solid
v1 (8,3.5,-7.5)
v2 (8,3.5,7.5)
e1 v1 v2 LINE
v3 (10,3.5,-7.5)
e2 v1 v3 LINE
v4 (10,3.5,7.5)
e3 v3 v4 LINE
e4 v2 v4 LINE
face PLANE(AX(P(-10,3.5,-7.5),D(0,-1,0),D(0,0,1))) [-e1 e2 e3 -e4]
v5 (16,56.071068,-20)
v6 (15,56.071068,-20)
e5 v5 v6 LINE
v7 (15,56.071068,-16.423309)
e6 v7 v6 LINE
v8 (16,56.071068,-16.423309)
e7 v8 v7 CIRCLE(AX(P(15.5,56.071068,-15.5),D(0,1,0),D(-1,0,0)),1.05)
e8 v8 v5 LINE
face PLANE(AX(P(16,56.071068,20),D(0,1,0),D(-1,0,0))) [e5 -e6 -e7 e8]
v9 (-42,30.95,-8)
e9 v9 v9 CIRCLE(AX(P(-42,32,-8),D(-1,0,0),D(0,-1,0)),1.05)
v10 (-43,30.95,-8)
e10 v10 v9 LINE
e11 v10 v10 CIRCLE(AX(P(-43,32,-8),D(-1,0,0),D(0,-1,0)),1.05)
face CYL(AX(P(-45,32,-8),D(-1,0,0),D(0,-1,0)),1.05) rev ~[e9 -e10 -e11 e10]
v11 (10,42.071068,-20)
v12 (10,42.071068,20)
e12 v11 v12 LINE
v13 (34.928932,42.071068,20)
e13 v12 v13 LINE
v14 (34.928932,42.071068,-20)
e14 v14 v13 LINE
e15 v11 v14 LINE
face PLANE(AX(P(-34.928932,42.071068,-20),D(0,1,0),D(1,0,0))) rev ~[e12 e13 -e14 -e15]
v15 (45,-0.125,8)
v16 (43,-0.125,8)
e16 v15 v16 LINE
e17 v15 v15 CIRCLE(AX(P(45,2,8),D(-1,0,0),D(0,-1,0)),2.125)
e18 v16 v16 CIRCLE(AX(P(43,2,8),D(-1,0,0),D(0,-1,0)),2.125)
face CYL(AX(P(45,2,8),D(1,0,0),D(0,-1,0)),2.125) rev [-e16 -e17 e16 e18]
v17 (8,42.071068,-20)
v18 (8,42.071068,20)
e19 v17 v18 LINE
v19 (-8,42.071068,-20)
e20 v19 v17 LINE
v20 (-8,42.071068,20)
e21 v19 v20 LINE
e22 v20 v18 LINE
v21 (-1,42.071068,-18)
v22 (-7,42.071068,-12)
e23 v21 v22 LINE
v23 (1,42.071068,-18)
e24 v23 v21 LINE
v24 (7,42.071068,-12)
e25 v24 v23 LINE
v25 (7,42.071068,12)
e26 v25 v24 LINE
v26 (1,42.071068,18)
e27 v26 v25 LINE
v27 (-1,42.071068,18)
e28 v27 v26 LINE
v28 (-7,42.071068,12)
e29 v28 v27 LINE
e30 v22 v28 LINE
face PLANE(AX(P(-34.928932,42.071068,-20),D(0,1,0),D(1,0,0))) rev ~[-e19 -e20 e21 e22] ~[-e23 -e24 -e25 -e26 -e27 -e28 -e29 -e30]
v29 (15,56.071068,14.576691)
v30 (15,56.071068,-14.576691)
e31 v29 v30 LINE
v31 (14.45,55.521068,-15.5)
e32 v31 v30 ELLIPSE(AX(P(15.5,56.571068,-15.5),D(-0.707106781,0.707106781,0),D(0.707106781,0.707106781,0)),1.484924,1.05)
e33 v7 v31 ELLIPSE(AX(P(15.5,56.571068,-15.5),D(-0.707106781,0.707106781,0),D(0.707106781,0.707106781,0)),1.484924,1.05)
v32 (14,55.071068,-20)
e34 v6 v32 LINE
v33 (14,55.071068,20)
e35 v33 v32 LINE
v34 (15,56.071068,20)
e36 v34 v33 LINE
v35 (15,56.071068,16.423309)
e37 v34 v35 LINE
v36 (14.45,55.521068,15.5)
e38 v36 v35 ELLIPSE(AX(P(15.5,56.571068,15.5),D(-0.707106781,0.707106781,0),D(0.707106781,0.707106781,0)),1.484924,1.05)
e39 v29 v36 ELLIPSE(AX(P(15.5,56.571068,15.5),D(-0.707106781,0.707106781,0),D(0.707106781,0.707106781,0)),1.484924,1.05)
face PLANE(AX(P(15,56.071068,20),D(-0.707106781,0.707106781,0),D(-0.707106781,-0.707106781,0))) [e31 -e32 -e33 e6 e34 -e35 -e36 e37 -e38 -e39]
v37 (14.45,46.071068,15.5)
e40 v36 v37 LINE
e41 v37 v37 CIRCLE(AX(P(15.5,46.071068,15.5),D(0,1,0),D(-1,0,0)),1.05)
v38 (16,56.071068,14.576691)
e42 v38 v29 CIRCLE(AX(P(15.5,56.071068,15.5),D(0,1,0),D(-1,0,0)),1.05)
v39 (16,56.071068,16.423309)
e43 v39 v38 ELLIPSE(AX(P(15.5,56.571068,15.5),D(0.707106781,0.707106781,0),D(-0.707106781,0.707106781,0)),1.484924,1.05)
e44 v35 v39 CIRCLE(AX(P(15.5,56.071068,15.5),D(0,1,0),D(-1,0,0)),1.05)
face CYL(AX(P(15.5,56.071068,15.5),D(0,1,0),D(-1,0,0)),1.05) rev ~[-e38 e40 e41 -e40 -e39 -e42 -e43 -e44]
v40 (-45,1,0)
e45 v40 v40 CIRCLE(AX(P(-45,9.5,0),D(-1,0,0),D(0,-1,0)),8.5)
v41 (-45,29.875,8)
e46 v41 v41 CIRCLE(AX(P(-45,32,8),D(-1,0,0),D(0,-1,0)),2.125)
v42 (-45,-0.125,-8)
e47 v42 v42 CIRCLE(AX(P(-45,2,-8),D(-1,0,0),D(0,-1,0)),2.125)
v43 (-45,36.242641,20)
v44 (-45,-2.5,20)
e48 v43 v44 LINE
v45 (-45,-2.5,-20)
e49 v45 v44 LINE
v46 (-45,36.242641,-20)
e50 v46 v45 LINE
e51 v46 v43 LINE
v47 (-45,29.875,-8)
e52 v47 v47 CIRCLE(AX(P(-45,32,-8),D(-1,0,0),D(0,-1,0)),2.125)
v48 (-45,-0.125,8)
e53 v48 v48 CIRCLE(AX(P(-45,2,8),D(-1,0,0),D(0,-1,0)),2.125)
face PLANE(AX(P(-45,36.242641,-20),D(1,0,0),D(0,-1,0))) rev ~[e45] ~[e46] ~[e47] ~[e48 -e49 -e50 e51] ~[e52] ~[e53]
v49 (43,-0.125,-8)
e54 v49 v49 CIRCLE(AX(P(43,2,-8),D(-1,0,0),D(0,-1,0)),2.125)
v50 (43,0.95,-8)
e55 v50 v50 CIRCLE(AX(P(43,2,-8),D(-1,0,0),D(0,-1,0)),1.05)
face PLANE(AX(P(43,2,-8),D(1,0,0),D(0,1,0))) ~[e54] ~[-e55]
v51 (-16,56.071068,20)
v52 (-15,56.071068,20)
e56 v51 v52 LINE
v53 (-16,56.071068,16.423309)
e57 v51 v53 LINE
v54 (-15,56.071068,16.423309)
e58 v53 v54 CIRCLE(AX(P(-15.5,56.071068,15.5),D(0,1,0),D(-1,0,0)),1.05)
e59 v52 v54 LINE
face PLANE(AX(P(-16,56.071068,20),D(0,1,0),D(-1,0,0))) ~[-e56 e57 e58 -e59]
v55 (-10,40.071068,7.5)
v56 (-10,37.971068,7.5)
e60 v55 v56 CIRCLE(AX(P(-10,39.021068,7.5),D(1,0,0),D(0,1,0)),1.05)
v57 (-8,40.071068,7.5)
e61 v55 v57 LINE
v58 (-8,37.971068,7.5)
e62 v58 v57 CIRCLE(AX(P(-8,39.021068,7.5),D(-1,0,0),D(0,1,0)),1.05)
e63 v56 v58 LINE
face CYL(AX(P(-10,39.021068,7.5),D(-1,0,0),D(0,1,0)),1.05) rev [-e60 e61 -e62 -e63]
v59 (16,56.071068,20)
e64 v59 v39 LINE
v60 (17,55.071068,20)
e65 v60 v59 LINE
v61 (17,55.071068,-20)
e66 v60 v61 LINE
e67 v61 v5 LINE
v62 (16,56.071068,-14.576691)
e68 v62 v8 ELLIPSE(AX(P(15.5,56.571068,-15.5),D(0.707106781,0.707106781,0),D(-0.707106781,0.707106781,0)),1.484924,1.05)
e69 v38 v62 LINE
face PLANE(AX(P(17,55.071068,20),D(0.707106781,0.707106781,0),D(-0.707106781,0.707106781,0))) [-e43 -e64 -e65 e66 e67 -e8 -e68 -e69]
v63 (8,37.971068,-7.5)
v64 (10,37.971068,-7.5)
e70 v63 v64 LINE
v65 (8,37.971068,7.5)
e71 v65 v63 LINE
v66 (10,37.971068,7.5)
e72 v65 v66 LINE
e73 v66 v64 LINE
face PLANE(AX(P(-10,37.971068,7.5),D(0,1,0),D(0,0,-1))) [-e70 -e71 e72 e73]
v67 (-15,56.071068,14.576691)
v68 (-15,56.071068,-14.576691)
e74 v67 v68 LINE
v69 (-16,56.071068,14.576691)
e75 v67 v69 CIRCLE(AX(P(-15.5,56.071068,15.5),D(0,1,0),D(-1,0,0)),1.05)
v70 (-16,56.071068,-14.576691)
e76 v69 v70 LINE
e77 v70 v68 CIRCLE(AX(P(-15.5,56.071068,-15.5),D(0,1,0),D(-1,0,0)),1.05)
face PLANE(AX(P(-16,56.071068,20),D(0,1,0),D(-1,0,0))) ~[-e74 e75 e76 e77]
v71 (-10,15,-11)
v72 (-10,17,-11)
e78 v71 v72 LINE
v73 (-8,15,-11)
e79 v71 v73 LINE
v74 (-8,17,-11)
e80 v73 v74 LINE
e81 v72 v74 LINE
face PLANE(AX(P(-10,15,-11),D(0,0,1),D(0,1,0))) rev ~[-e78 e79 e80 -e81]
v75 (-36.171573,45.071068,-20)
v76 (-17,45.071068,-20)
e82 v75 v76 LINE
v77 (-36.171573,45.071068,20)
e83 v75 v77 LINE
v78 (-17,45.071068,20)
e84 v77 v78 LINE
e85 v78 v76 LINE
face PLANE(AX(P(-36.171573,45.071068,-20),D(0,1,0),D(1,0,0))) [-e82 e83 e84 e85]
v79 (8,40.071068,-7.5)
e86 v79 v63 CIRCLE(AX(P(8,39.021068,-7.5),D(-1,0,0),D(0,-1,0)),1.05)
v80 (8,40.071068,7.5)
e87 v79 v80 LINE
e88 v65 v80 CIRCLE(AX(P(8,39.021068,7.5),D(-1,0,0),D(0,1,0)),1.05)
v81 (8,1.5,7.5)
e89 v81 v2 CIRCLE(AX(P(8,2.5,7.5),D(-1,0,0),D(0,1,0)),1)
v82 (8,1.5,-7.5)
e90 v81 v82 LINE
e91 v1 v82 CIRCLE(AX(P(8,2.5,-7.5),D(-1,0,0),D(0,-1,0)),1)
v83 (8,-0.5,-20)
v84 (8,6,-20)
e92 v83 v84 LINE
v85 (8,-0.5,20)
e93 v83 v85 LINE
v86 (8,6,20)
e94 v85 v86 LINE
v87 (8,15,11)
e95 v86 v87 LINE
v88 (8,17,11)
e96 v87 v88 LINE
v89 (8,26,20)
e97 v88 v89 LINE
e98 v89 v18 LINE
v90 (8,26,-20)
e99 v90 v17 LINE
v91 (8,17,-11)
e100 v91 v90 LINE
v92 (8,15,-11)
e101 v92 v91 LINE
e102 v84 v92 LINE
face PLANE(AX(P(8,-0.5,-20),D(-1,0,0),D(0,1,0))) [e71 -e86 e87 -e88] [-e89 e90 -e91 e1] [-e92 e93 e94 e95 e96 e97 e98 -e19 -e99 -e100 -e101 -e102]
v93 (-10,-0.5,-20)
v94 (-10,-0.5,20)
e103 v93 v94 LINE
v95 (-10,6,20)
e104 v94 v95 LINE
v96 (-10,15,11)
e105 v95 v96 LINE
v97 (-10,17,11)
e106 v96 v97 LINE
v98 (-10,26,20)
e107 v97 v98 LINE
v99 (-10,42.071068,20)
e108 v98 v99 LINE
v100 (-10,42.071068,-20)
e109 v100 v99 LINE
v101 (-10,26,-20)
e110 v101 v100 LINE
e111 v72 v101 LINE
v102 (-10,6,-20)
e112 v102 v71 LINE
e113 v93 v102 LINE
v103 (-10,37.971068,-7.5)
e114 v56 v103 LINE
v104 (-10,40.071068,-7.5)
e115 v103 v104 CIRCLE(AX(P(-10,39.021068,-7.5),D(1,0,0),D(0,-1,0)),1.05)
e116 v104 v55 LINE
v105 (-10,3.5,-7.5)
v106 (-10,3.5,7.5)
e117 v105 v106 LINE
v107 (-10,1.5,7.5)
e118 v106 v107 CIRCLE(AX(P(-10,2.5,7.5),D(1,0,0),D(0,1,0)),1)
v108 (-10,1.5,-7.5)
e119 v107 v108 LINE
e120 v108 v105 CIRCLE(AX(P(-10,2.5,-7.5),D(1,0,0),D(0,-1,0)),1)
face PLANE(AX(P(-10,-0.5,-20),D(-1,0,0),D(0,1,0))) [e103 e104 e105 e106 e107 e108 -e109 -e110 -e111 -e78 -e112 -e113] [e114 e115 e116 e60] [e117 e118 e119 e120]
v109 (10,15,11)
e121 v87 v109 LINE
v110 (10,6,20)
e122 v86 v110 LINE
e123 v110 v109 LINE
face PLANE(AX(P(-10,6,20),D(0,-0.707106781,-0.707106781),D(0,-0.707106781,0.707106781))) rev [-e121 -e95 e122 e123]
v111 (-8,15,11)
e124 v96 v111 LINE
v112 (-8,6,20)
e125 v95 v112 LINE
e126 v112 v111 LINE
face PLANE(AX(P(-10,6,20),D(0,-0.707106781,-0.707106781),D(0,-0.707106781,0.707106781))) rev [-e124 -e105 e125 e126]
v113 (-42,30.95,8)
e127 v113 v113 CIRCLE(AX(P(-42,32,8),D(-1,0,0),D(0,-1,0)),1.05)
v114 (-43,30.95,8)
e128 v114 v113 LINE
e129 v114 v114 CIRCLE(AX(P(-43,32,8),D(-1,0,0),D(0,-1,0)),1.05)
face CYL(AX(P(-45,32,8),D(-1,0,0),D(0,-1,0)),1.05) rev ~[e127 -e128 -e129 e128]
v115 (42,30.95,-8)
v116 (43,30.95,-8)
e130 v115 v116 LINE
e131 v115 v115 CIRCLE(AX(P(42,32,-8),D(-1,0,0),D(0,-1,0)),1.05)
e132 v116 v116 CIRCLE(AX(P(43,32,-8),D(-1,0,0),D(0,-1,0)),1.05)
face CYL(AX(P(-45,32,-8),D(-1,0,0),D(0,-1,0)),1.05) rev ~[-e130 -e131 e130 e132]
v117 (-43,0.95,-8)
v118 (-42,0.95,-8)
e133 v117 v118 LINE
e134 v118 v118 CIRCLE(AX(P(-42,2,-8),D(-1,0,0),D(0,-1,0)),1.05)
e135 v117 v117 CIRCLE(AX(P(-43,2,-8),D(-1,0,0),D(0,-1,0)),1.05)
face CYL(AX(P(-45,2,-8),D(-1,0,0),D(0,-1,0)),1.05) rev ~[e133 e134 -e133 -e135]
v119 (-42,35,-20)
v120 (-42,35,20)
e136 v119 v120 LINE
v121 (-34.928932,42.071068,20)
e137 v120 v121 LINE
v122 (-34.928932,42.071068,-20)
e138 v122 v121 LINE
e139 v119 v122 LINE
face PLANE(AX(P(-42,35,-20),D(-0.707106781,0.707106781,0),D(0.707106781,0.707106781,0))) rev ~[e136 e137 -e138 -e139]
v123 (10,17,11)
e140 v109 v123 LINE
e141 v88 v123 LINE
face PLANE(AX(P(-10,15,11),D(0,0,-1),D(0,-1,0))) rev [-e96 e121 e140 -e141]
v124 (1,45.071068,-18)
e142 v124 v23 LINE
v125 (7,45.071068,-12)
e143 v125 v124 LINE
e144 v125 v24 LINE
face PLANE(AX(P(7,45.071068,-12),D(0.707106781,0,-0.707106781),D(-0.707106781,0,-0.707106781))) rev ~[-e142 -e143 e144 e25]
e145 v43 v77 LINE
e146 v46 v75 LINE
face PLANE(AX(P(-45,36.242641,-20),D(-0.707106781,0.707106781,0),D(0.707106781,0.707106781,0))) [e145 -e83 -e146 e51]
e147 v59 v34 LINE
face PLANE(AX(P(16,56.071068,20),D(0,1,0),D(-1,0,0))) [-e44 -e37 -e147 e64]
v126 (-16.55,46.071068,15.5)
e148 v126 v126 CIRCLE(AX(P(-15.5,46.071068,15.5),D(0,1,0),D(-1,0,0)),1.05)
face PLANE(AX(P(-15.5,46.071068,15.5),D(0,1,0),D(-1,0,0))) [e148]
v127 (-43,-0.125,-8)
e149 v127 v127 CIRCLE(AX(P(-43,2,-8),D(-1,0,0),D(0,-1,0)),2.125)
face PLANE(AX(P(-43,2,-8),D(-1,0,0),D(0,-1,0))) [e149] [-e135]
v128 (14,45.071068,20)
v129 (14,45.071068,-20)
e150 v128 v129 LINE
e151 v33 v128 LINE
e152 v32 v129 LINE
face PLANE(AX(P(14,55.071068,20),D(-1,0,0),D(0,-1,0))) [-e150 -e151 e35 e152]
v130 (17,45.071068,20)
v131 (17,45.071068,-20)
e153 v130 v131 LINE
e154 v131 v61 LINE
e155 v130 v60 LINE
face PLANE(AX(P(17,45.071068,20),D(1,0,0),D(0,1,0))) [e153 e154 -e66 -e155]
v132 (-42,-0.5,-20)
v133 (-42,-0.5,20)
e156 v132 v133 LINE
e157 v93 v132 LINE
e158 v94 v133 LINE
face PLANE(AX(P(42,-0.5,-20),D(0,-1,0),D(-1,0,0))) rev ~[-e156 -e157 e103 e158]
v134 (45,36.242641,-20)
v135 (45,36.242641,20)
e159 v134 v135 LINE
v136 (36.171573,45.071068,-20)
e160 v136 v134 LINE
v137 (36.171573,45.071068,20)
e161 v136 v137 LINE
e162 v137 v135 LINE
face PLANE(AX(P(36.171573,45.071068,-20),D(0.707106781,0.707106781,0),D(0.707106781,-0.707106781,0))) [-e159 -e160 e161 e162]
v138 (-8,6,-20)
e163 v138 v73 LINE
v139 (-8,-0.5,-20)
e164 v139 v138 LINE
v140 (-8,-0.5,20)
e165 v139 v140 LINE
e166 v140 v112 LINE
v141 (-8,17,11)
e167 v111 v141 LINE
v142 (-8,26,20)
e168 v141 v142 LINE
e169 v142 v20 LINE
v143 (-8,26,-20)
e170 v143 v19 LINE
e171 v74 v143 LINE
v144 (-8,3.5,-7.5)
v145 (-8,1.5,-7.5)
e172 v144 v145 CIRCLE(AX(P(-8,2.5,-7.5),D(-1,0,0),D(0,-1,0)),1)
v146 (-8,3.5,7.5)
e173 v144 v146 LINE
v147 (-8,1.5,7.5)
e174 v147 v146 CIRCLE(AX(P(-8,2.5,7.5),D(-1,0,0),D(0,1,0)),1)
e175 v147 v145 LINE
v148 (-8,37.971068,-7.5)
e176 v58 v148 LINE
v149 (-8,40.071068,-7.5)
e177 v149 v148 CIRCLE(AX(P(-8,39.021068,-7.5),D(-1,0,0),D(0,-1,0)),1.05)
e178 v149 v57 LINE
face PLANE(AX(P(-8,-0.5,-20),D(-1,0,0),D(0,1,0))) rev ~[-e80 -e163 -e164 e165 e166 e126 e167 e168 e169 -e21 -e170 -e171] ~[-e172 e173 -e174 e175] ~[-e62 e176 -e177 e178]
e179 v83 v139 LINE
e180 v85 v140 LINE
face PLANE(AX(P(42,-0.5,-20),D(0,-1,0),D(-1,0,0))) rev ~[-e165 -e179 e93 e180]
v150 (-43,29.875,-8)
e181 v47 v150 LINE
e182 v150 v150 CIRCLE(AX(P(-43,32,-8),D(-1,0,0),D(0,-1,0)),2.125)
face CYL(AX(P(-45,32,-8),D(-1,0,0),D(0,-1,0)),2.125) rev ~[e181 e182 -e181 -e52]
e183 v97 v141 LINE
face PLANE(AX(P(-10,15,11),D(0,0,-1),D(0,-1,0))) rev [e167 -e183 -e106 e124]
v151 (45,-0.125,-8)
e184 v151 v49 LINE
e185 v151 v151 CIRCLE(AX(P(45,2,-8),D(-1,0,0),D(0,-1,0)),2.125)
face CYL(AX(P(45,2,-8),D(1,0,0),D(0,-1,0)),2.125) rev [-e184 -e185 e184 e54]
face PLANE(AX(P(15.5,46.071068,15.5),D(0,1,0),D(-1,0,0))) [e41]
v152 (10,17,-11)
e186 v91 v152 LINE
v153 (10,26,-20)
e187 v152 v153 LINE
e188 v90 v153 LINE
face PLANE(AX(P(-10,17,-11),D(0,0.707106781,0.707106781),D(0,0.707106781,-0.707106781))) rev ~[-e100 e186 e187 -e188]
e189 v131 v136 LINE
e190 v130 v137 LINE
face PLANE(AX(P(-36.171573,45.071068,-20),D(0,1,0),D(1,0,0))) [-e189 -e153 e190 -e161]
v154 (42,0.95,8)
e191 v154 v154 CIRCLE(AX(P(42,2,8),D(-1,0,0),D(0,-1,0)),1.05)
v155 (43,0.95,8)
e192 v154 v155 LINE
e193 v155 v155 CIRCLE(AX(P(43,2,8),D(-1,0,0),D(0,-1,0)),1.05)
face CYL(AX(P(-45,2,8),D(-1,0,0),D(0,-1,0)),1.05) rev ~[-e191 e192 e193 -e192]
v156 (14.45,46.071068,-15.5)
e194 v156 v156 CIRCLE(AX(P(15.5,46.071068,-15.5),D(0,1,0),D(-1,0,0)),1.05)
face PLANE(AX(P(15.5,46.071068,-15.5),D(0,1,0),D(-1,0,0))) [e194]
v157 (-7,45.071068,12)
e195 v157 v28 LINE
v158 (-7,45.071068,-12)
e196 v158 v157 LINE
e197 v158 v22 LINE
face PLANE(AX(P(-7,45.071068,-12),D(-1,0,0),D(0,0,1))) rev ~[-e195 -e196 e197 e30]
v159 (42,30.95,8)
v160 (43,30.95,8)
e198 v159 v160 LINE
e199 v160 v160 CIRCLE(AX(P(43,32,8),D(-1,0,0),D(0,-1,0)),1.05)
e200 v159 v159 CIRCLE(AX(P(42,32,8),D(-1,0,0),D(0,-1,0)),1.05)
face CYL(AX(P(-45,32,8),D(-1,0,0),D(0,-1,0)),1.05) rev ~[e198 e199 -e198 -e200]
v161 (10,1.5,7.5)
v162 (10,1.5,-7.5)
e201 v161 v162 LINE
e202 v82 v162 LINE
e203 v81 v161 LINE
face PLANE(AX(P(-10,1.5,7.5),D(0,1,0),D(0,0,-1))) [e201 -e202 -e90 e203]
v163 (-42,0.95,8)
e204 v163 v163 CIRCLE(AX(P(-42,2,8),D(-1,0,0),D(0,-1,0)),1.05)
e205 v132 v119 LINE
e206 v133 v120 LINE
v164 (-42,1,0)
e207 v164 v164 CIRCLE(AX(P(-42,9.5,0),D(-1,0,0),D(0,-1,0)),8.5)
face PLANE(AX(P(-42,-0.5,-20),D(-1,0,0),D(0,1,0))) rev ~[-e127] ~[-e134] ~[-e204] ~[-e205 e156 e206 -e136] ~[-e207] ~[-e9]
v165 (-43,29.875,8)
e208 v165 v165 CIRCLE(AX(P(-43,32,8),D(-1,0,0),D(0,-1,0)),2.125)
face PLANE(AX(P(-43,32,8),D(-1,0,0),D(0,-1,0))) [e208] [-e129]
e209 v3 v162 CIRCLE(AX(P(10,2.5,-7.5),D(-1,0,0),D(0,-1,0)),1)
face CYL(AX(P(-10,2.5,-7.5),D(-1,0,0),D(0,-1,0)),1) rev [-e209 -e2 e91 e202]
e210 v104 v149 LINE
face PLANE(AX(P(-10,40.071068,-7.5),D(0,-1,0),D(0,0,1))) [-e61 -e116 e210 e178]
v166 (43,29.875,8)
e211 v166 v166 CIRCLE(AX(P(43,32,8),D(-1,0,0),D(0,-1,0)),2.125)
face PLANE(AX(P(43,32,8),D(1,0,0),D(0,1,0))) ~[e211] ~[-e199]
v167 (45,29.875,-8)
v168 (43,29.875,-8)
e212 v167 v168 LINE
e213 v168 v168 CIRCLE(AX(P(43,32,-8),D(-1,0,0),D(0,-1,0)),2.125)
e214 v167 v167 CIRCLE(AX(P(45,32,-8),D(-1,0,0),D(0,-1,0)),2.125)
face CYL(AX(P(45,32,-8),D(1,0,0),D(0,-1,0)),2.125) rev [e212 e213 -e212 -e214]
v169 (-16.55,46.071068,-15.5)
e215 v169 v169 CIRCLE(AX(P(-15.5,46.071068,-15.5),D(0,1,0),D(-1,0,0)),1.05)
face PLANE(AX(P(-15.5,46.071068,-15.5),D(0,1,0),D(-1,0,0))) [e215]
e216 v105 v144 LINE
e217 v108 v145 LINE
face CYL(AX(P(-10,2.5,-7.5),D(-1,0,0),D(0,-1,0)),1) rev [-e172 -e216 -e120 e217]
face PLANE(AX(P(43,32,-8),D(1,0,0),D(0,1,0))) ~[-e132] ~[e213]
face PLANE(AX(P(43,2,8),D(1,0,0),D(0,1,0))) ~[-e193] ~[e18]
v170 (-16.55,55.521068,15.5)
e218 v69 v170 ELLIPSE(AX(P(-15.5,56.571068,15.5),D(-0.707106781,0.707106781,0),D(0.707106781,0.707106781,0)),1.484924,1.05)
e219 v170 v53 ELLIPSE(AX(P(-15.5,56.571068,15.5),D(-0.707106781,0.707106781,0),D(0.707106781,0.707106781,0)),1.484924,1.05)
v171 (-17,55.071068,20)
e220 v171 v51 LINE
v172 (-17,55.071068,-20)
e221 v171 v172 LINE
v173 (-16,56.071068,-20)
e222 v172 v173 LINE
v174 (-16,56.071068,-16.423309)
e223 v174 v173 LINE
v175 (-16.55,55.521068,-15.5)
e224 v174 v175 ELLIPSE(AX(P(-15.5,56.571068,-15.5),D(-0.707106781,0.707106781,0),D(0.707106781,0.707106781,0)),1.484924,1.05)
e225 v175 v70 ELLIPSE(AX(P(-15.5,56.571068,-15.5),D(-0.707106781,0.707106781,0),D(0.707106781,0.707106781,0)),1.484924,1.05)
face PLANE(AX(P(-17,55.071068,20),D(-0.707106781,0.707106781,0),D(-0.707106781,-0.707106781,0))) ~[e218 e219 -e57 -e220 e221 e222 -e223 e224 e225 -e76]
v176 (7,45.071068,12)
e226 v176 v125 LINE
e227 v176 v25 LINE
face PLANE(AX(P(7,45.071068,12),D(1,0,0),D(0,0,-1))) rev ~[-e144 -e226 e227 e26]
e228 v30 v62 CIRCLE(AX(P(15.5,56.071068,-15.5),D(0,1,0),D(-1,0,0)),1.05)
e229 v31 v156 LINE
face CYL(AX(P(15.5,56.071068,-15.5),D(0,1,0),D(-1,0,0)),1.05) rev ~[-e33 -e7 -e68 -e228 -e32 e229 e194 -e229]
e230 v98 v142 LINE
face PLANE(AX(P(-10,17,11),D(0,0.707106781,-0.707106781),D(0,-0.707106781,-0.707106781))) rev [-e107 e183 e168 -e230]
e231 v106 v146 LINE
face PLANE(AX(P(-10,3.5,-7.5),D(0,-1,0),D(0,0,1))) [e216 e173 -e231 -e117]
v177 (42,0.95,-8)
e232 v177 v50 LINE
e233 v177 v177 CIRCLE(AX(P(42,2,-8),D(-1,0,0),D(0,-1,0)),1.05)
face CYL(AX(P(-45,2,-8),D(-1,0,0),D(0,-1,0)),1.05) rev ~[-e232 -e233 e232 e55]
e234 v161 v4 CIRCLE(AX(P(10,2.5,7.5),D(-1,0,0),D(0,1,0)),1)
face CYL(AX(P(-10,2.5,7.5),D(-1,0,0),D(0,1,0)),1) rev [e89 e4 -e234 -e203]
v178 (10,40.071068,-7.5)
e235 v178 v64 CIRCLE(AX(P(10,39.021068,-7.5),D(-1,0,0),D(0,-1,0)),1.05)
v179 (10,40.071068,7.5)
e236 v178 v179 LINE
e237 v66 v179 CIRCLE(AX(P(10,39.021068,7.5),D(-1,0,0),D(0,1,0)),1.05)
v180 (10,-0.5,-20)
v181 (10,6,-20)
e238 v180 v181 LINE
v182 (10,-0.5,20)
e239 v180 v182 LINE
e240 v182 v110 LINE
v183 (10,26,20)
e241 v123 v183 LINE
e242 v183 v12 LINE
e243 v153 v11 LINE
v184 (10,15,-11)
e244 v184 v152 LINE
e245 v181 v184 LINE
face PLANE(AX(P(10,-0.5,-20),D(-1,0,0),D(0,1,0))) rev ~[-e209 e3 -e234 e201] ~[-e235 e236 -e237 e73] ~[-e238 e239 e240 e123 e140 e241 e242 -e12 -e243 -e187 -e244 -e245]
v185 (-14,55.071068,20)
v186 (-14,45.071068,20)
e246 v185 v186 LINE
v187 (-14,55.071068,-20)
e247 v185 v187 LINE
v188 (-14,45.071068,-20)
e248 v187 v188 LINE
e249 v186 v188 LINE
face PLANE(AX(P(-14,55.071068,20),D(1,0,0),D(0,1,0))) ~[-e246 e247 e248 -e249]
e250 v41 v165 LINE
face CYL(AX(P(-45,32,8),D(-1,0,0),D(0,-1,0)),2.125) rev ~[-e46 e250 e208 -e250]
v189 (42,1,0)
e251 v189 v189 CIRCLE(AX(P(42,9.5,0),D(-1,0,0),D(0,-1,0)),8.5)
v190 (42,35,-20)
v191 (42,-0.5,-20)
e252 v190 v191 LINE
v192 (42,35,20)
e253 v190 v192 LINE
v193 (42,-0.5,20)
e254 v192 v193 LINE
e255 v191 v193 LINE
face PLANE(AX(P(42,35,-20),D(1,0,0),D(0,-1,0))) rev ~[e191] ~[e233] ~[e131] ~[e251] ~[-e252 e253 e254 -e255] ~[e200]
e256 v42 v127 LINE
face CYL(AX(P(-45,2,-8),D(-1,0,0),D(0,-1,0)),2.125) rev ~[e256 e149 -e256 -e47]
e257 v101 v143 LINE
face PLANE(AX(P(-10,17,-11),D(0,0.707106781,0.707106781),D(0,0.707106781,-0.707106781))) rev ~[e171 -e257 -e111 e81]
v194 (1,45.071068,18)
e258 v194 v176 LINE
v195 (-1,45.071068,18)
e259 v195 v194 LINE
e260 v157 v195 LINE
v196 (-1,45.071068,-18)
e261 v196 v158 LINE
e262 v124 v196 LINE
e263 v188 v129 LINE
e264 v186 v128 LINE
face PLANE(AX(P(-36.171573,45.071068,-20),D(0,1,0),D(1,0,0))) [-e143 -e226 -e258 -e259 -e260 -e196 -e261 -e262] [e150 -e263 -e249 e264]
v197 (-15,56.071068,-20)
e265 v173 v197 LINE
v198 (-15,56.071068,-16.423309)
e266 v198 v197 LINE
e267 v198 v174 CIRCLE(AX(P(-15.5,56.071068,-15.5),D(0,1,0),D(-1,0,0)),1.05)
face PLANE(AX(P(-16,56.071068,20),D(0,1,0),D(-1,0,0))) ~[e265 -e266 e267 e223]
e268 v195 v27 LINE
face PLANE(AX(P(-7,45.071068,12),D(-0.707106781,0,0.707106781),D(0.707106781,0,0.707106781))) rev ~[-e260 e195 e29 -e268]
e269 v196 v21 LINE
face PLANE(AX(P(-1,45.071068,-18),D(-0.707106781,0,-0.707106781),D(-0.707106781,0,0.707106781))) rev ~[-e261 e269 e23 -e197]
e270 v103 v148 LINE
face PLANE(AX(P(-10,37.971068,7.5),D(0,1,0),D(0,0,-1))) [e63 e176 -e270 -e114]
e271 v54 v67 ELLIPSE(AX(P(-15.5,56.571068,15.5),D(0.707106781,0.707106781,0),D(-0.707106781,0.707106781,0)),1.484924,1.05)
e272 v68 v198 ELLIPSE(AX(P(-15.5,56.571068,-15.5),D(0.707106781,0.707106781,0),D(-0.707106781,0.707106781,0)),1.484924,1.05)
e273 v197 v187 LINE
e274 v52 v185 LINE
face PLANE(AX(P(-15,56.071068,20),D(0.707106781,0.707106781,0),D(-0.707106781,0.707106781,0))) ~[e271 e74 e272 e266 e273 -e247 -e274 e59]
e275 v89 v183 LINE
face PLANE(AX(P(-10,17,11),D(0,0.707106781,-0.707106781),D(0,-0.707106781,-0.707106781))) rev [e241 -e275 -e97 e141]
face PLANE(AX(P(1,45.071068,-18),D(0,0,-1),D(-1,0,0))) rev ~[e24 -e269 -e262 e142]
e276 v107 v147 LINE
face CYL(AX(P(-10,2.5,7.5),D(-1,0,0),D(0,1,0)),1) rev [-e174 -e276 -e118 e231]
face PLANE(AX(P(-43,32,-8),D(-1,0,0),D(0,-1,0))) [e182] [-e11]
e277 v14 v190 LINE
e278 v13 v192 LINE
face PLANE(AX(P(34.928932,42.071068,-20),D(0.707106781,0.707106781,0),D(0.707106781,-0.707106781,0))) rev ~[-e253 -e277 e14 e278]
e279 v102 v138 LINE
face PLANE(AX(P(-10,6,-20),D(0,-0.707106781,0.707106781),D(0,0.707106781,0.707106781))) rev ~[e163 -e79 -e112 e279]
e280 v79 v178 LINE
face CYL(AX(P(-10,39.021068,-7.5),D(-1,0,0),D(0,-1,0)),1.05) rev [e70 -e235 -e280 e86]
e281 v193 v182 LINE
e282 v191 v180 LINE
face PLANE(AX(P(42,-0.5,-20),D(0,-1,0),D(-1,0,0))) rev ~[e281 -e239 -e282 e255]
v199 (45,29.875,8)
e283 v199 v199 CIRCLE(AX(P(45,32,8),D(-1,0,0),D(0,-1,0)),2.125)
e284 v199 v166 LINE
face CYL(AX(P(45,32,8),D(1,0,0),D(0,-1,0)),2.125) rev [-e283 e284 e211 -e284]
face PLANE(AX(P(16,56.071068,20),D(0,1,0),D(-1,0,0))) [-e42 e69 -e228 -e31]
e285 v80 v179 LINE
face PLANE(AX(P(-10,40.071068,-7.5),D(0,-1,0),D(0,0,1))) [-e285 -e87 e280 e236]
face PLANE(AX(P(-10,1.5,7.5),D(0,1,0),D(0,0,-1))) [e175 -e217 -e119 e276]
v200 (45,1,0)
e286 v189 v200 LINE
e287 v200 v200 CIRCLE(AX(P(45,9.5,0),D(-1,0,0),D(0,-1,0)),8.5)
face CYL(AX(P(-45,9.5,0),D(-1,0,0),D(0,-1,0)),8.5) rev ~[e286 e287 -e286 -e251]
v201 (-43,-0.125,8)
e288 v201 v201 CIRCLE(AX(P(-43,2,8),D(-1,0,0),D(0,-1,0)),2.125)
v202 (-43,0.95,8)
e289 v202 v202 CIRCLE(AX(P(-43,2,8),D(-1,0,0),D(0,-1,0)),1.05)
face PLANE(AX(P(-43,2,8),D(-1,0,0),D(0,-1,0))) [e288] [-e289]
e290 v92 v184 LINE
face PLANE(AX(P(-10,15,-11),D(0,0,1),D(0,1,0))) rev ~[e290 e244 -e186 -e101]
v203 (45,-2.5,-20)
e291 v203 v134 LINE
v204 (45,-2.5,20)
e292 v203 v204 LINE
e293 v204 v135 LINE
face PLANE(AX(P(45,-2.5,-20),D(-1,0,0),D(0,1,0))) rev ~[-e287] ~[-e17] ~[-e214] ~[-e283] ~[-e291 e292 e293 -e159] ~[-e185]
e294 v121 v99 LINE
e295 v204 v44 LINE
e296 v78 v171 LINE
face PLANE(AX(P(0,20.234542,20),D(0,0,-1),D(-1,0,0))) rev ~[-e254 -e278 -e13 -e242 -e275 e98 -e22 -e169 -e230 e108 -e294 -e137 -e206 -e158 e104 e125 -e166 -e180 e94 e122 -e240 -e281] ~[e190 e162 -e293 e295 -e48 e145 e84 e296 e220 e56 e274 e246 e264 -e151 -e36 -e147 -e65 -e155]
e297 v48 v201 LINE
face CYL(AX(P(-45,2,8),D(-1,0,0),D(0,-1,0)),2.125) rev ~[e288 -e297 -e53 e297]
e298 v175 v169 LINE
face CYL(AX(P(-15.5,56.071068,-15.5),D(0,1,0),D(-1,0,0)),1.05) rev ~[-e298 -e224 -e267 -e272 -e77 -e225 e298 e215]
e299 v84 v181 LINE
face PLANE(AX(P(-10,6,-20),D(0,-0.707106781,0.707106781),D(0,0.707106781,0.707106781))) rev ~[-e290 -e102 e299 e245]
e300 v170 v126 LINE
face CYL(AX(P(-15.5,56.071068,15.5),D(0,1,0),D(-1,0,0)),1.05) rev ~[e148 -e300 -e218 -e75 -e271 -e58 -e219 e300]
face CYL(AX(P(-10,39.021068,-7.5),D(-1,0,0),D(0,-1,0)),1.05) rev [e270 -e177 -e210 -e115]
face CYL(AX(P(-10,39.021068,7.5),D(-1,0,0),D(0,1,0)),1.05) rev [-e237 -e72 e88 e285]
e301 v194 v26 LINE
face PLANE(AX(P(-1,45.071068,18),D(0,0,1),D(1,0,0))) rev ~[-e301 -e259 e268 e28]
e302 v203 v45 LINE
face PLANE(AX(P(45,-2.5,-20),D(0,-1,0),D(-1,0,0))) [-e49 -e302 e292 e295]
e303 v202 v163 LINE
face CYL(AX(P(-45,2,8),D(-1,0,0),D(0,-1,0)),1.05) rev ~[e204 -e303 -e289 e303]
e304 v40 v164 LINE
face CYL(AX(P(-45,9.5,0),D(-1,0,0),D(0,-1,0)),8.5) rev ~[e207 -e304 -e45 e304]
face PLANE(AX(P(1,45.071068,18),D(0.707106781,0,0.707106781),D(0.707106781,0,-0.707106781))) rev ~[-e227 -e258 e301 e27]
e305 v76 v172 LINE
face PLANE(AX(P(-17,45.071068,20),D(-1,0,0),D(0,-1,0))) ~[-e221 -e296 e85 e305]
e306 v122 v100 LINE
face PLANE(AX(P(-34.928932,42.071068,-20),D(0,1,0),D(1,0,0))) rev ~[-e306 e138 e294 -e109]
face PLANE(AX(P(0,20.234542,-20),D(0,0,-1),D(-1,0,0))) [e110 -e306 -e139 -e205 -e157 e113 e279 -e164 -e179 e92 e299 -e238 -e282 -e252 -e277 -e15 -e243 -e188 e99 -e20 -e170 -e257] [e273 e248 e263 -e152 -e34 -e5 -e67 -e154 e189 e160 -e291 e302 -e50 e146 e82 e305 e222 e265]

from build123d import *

# Parameters (mm, degrees)
BOSS_EXTRUDE3_DEPTH      = 20
BOSS_EXTRUDE3_DEPTH_BACK = 20
SKETCH4_R                = 8.5
CUT_EXTRUDE1_DEPTH       = 103.622615216
SKETCH5_R                = 1.05
CUT_EXTRUDE2_DEPTH       = 103.622615216
BOSS_EXTRUDE4_START      = -20
SKETCH6_W                = 2
SKETCH6_H                = 42.571067812
BOSS_EXTRUDE4_DEPTH      = 40
CUT_EXTRUDE4_REACH       = 75.867
SKETCH8_R                = 2.125
CUT_EXTRUDE5_DEPTH       = 2
BOSS_EXTRUDE5_DEPTH      = 40
SKETCH10_R               = 1.05
CUT_EXTRUDE6_DEPTH       = 10
CUT_EXTRUDE7_REACH       = 83.049
CUT_EXTRUDE8_DEPTH       = 3


with BuildPart() as part:
    # Sketch3 → Boss-Extrude3 (new, two sides: drawn at the far end of the back side and taken through both)
    with BuildSketch(Plane.XY.offset(-BOSS_EXTRUDE3_DEPTH_BACK)):
        Polygon((-45, 0), (-45, 36.242640687), (-36.171572875, 45.071067812), (36.171572875, 45.071067812), (45, 36.242640687), (45, 0), (45, -2.5), (-45, -2.5), align=None)
        Polygon((-42, 0), (-42, 35), (-34.928932188, 42.071067812), (34.928932188, 42.071067812), (42, 35), (42, 0), (42, -0.5), (-42, -0.5), align=None, mode=Mode.SUBTRACT)
    extrude(amount=BOSS_EXTRUDE3_DEPTH + BOSS_EXTRUDE3_DEPTH_BACK)

    # Sketch4 → Cut-Extrude1 (cut, through all)
    with BuildSketch(Plane.ZY.offset(45)):
        with Locations(Location((0, 9.5, 0), (0, 0, 270))):
            Circle(SKETCH4_R)
    extrude(amount=-CUT_EXTRUDE1_DEPTH, mode=Mode.SUBTRACT)

    # Sketch5 → Cut-Extrude2 (cut, through all)
    with BuildSketch(Plane.ZY.offset(45)):
        with Locations(Location((-8, 32, 0), (0, 0, 270))):
            Circle(SKETCH5_R)
        with Locations(Location((8, 32, 0), (0, 0, 270))):
            Circle(SKETCH5_R)
        with Locations(Location((8, 2, 0), (0, 0, 270))):
            Circle(SKETCH5_R)
        with Locations(Location((-8, 2, 0), (0, 0, 270))):
            Circle(SKETCH5_R)
    extrude(amount=-CUT_EXTRUDE2_DEPTH, mode=Mode.SUBTRACT)

    # Sketch6 → Boss-Extrude4 (add)
    with BuildSketch(Plane.XY.offset(BOSS_EXTRUDE4_START)):
        with Locations((-9, 20.785533906)):
            Rectangle(SKETCH6_W, SKETCH6_H)
        with Locations((9, 20.785533906)):
            Rectangle(SKETCH6_W, SKETCH6_H)
    extrude(amount=BOSS_EXTRUDE4_DEPTH)

    # Cut-Extrude4: up to this face of the body (flat: up to its plane)
    cut_extrude4_end = Plane(part.part.faces().sort_by_distance((10, 20.785533906, 0))[0])
    # Sketch7 → Cut-Extrude4 (cut, up to the picked face)
    with BuildSketch(Plane.ZY.offset(10), mode=Mode.PRIVATE) as cut_extrude4_sk1:
        Polygon((-20, 26), (-20, 6), (-11, 15), (-11, 17), align=None)
    cut_extrude4_tool1 = split(extrude(cut_extrude4_sk1.sketch, amount=-CUT_EXTRUDE4_REACH, mode=Mode.PRIVATE), bisect_by=cut_extrude4_end, keep=Keep.BOTH, mode=Mode.PRIVATE)
    cut_extrude4 = cut_extrude4_tool1.solids().sort_by(Axis((-10, 16, -16.727273), (1, 0, 0)))[0]
    add(cut_extrude4, mode=Mode.SUBTRACT)

    # Mirror1: Cut-Extrude4 across plane
    add(cut_extrude4.mirror(Plane.XY), mode=Mode.SUBTRACT)

    # Sketch8 → Cut-Extrude5 (cut)
    with BuildSketch(Plane.ZY.offset(45)):
        with Locations(Location((-8, 32, 0), (0, 0, 270))):
            Circle(SKETCH8_R)
        with Locations(Location((8, 32, 0), (0, 0, 270))):
            Circle(SKETCH8_R)
        with Locations(Location((8, 2, 0), (0, 0, 270))):
            Circle(SKETCH8_R)
        with Locations(Location((-8, 2, 0), (0, 0, 270))):
            Circle(SKETCH8_R)
    cut_extrude5 = extrude(amount=-CUT_EXTRUDE5_DEPTH, mode=Mode.SUBTRACT)

    # Mirror2: Cut-Extrude5 across plane
    add(cut_extrude5.mirror(Plane(origin=(0, 0, 0), x_dir=(0, 0, 1), z_dir=(1, 0, 0))), mode=Mode.SUBTRACT)

    # Sketch9 → Boss-Extrude5 (add)
    with BuildSketch(Plane.XY.offset(20)):
        Polygon((17, 55.071067812), (16, 56.071067812), (15, 56.071067812), (14, 55.071067812), (14, 45.071067812), (17, 45.071067812), align=None)
    boss_extrude5 = extrude(amount=-BOSS_EXTRUDE5_DEPTH)

    # Mirror3: Boss-Extrude5 across plane
    add(boss_extrude5.mirror(Plane(origin=(0, 0, 0), x_dir=(0, 0, 1), z_dir=(1, 0, 0))))

    # Sketch10 → Cut-Extrude6 (cut)
    with BuildSketch(Plane(origin=(0, 56.071067812, 0), x_dir=(1, 0, 0), z_dir=(0, 1, 0))):
        with Locations(Location((-15.5, 15.5, 0), (0, 0, 180))):
            Circle(SKETCH10_R)
        with Locations(Location((15.5, 15.5, 0), (0, 0, 180))):
            Circle(SKETCH10_R)
        with Locations(Location((15.5, -15.5, 0), (0, 0, 180))):
            Circle(SKETCH10_R)
        with Locations(Location((-15.5, -15.5, 0), (0, 0, 180))):
            Circle(SKETCH10_R)
    extrude(amount=-CUT_EXTRUDE6_DEPTH, mode=Mode.SUBTRACT)

    # Cut-Extrude7: up to this face of the body (flat: up to its plane)
    cut_extrude7_end = Plane(part.part.faces().sort_by_distance((10, 21.415191548, 0))[0])
    # Sketch11 → Cut-Extrude7 (cut, up to the picked face)
    with BuildSketch(Plane.ZY.offset(10), mode=Mode.PRIVATE) as cut_extrude7_sk1:
        with BuildLine():
            Line((-7.5, 40.071067812), (7.5, 40.071067812))
            ThreePointArc((7.5, 40.071067812), (8.55, 39.021067812), (7.5, 37.971067812))
            Line((7.5, 37.971067812), (-7.5, 37.971067812))
            ThreePointArc((-7.5, 37.971067812), (-8.55, 39.021067812), (-7.5, 40.071067812))
        make_face()
    cut_extrude7_tool1 = split(extrude(cut_extrude7_sk1.sketch, amount=-CUT_EXTRUDE7_REACH, mode=Mode.PRIVATE), bisect_by=cut_extrude7_end, keep=Keep.BOTH, mode=Mode.PRIVATE)
    # Sketch11 → Cut-Extrude7 (cut, up to the picked face)
    with BuildSketch(Plane.ZY.offset(10), mode=Mode.PRIVATE) as cut_extrude7_sk2:
        with BuildLine():
            Line((-7.5, 3.5), (7.5, 3.5))
            ThreePointArc((7.5, 3.5), (8.5, 2.5), (7.5, 1.5))
            Line((7.5, 1.5), (-7.5, 1.5))
            ThreePointArc((-7.5, 1.5), (-8.5, 2.5), (-7.5, 3.5))
        make_face()
    cut_extrude7_tool2 = split(extrude(cut_extrude7_sk2.sketch, amount=-CUT_EXTRUDE7_REACH, mode=Mode.PRIVATE), bisect_by=cut_extrude7_end, keep=Keep.BOTH, mode=Mode.PRIVATE)
    add(cut_extrude7_tool1.solids().sort_by(Axis((-10, 39.021068, 0), (1, 0, 0)))[0], mode=Mode.SUBTRACT)
    add(cut_extrude7_tool2.solids().sort_by(Axis((-10, 2.5, 0), (1, 0, 0)))[0], mode=Mode.SUBTRACT)

    # Sketch12 → Cut-Extrude8 (cut)
    with BuildSketch(Plane(origin=(0, 45.071067812, 0), x_dir=(1, 0, 0), z_dir=(0, 1, 0))):
        Polygon((-7, 12), (-7, -12), (-1, -18), (1, -18), (7, -12), (7, 12), (1, 18), (-1, 18), align=None)
    extrude(amount=-CUT_EXTRUDE8_DEPTH, mode=Mode.SUBTRACT)


solid = part.part
